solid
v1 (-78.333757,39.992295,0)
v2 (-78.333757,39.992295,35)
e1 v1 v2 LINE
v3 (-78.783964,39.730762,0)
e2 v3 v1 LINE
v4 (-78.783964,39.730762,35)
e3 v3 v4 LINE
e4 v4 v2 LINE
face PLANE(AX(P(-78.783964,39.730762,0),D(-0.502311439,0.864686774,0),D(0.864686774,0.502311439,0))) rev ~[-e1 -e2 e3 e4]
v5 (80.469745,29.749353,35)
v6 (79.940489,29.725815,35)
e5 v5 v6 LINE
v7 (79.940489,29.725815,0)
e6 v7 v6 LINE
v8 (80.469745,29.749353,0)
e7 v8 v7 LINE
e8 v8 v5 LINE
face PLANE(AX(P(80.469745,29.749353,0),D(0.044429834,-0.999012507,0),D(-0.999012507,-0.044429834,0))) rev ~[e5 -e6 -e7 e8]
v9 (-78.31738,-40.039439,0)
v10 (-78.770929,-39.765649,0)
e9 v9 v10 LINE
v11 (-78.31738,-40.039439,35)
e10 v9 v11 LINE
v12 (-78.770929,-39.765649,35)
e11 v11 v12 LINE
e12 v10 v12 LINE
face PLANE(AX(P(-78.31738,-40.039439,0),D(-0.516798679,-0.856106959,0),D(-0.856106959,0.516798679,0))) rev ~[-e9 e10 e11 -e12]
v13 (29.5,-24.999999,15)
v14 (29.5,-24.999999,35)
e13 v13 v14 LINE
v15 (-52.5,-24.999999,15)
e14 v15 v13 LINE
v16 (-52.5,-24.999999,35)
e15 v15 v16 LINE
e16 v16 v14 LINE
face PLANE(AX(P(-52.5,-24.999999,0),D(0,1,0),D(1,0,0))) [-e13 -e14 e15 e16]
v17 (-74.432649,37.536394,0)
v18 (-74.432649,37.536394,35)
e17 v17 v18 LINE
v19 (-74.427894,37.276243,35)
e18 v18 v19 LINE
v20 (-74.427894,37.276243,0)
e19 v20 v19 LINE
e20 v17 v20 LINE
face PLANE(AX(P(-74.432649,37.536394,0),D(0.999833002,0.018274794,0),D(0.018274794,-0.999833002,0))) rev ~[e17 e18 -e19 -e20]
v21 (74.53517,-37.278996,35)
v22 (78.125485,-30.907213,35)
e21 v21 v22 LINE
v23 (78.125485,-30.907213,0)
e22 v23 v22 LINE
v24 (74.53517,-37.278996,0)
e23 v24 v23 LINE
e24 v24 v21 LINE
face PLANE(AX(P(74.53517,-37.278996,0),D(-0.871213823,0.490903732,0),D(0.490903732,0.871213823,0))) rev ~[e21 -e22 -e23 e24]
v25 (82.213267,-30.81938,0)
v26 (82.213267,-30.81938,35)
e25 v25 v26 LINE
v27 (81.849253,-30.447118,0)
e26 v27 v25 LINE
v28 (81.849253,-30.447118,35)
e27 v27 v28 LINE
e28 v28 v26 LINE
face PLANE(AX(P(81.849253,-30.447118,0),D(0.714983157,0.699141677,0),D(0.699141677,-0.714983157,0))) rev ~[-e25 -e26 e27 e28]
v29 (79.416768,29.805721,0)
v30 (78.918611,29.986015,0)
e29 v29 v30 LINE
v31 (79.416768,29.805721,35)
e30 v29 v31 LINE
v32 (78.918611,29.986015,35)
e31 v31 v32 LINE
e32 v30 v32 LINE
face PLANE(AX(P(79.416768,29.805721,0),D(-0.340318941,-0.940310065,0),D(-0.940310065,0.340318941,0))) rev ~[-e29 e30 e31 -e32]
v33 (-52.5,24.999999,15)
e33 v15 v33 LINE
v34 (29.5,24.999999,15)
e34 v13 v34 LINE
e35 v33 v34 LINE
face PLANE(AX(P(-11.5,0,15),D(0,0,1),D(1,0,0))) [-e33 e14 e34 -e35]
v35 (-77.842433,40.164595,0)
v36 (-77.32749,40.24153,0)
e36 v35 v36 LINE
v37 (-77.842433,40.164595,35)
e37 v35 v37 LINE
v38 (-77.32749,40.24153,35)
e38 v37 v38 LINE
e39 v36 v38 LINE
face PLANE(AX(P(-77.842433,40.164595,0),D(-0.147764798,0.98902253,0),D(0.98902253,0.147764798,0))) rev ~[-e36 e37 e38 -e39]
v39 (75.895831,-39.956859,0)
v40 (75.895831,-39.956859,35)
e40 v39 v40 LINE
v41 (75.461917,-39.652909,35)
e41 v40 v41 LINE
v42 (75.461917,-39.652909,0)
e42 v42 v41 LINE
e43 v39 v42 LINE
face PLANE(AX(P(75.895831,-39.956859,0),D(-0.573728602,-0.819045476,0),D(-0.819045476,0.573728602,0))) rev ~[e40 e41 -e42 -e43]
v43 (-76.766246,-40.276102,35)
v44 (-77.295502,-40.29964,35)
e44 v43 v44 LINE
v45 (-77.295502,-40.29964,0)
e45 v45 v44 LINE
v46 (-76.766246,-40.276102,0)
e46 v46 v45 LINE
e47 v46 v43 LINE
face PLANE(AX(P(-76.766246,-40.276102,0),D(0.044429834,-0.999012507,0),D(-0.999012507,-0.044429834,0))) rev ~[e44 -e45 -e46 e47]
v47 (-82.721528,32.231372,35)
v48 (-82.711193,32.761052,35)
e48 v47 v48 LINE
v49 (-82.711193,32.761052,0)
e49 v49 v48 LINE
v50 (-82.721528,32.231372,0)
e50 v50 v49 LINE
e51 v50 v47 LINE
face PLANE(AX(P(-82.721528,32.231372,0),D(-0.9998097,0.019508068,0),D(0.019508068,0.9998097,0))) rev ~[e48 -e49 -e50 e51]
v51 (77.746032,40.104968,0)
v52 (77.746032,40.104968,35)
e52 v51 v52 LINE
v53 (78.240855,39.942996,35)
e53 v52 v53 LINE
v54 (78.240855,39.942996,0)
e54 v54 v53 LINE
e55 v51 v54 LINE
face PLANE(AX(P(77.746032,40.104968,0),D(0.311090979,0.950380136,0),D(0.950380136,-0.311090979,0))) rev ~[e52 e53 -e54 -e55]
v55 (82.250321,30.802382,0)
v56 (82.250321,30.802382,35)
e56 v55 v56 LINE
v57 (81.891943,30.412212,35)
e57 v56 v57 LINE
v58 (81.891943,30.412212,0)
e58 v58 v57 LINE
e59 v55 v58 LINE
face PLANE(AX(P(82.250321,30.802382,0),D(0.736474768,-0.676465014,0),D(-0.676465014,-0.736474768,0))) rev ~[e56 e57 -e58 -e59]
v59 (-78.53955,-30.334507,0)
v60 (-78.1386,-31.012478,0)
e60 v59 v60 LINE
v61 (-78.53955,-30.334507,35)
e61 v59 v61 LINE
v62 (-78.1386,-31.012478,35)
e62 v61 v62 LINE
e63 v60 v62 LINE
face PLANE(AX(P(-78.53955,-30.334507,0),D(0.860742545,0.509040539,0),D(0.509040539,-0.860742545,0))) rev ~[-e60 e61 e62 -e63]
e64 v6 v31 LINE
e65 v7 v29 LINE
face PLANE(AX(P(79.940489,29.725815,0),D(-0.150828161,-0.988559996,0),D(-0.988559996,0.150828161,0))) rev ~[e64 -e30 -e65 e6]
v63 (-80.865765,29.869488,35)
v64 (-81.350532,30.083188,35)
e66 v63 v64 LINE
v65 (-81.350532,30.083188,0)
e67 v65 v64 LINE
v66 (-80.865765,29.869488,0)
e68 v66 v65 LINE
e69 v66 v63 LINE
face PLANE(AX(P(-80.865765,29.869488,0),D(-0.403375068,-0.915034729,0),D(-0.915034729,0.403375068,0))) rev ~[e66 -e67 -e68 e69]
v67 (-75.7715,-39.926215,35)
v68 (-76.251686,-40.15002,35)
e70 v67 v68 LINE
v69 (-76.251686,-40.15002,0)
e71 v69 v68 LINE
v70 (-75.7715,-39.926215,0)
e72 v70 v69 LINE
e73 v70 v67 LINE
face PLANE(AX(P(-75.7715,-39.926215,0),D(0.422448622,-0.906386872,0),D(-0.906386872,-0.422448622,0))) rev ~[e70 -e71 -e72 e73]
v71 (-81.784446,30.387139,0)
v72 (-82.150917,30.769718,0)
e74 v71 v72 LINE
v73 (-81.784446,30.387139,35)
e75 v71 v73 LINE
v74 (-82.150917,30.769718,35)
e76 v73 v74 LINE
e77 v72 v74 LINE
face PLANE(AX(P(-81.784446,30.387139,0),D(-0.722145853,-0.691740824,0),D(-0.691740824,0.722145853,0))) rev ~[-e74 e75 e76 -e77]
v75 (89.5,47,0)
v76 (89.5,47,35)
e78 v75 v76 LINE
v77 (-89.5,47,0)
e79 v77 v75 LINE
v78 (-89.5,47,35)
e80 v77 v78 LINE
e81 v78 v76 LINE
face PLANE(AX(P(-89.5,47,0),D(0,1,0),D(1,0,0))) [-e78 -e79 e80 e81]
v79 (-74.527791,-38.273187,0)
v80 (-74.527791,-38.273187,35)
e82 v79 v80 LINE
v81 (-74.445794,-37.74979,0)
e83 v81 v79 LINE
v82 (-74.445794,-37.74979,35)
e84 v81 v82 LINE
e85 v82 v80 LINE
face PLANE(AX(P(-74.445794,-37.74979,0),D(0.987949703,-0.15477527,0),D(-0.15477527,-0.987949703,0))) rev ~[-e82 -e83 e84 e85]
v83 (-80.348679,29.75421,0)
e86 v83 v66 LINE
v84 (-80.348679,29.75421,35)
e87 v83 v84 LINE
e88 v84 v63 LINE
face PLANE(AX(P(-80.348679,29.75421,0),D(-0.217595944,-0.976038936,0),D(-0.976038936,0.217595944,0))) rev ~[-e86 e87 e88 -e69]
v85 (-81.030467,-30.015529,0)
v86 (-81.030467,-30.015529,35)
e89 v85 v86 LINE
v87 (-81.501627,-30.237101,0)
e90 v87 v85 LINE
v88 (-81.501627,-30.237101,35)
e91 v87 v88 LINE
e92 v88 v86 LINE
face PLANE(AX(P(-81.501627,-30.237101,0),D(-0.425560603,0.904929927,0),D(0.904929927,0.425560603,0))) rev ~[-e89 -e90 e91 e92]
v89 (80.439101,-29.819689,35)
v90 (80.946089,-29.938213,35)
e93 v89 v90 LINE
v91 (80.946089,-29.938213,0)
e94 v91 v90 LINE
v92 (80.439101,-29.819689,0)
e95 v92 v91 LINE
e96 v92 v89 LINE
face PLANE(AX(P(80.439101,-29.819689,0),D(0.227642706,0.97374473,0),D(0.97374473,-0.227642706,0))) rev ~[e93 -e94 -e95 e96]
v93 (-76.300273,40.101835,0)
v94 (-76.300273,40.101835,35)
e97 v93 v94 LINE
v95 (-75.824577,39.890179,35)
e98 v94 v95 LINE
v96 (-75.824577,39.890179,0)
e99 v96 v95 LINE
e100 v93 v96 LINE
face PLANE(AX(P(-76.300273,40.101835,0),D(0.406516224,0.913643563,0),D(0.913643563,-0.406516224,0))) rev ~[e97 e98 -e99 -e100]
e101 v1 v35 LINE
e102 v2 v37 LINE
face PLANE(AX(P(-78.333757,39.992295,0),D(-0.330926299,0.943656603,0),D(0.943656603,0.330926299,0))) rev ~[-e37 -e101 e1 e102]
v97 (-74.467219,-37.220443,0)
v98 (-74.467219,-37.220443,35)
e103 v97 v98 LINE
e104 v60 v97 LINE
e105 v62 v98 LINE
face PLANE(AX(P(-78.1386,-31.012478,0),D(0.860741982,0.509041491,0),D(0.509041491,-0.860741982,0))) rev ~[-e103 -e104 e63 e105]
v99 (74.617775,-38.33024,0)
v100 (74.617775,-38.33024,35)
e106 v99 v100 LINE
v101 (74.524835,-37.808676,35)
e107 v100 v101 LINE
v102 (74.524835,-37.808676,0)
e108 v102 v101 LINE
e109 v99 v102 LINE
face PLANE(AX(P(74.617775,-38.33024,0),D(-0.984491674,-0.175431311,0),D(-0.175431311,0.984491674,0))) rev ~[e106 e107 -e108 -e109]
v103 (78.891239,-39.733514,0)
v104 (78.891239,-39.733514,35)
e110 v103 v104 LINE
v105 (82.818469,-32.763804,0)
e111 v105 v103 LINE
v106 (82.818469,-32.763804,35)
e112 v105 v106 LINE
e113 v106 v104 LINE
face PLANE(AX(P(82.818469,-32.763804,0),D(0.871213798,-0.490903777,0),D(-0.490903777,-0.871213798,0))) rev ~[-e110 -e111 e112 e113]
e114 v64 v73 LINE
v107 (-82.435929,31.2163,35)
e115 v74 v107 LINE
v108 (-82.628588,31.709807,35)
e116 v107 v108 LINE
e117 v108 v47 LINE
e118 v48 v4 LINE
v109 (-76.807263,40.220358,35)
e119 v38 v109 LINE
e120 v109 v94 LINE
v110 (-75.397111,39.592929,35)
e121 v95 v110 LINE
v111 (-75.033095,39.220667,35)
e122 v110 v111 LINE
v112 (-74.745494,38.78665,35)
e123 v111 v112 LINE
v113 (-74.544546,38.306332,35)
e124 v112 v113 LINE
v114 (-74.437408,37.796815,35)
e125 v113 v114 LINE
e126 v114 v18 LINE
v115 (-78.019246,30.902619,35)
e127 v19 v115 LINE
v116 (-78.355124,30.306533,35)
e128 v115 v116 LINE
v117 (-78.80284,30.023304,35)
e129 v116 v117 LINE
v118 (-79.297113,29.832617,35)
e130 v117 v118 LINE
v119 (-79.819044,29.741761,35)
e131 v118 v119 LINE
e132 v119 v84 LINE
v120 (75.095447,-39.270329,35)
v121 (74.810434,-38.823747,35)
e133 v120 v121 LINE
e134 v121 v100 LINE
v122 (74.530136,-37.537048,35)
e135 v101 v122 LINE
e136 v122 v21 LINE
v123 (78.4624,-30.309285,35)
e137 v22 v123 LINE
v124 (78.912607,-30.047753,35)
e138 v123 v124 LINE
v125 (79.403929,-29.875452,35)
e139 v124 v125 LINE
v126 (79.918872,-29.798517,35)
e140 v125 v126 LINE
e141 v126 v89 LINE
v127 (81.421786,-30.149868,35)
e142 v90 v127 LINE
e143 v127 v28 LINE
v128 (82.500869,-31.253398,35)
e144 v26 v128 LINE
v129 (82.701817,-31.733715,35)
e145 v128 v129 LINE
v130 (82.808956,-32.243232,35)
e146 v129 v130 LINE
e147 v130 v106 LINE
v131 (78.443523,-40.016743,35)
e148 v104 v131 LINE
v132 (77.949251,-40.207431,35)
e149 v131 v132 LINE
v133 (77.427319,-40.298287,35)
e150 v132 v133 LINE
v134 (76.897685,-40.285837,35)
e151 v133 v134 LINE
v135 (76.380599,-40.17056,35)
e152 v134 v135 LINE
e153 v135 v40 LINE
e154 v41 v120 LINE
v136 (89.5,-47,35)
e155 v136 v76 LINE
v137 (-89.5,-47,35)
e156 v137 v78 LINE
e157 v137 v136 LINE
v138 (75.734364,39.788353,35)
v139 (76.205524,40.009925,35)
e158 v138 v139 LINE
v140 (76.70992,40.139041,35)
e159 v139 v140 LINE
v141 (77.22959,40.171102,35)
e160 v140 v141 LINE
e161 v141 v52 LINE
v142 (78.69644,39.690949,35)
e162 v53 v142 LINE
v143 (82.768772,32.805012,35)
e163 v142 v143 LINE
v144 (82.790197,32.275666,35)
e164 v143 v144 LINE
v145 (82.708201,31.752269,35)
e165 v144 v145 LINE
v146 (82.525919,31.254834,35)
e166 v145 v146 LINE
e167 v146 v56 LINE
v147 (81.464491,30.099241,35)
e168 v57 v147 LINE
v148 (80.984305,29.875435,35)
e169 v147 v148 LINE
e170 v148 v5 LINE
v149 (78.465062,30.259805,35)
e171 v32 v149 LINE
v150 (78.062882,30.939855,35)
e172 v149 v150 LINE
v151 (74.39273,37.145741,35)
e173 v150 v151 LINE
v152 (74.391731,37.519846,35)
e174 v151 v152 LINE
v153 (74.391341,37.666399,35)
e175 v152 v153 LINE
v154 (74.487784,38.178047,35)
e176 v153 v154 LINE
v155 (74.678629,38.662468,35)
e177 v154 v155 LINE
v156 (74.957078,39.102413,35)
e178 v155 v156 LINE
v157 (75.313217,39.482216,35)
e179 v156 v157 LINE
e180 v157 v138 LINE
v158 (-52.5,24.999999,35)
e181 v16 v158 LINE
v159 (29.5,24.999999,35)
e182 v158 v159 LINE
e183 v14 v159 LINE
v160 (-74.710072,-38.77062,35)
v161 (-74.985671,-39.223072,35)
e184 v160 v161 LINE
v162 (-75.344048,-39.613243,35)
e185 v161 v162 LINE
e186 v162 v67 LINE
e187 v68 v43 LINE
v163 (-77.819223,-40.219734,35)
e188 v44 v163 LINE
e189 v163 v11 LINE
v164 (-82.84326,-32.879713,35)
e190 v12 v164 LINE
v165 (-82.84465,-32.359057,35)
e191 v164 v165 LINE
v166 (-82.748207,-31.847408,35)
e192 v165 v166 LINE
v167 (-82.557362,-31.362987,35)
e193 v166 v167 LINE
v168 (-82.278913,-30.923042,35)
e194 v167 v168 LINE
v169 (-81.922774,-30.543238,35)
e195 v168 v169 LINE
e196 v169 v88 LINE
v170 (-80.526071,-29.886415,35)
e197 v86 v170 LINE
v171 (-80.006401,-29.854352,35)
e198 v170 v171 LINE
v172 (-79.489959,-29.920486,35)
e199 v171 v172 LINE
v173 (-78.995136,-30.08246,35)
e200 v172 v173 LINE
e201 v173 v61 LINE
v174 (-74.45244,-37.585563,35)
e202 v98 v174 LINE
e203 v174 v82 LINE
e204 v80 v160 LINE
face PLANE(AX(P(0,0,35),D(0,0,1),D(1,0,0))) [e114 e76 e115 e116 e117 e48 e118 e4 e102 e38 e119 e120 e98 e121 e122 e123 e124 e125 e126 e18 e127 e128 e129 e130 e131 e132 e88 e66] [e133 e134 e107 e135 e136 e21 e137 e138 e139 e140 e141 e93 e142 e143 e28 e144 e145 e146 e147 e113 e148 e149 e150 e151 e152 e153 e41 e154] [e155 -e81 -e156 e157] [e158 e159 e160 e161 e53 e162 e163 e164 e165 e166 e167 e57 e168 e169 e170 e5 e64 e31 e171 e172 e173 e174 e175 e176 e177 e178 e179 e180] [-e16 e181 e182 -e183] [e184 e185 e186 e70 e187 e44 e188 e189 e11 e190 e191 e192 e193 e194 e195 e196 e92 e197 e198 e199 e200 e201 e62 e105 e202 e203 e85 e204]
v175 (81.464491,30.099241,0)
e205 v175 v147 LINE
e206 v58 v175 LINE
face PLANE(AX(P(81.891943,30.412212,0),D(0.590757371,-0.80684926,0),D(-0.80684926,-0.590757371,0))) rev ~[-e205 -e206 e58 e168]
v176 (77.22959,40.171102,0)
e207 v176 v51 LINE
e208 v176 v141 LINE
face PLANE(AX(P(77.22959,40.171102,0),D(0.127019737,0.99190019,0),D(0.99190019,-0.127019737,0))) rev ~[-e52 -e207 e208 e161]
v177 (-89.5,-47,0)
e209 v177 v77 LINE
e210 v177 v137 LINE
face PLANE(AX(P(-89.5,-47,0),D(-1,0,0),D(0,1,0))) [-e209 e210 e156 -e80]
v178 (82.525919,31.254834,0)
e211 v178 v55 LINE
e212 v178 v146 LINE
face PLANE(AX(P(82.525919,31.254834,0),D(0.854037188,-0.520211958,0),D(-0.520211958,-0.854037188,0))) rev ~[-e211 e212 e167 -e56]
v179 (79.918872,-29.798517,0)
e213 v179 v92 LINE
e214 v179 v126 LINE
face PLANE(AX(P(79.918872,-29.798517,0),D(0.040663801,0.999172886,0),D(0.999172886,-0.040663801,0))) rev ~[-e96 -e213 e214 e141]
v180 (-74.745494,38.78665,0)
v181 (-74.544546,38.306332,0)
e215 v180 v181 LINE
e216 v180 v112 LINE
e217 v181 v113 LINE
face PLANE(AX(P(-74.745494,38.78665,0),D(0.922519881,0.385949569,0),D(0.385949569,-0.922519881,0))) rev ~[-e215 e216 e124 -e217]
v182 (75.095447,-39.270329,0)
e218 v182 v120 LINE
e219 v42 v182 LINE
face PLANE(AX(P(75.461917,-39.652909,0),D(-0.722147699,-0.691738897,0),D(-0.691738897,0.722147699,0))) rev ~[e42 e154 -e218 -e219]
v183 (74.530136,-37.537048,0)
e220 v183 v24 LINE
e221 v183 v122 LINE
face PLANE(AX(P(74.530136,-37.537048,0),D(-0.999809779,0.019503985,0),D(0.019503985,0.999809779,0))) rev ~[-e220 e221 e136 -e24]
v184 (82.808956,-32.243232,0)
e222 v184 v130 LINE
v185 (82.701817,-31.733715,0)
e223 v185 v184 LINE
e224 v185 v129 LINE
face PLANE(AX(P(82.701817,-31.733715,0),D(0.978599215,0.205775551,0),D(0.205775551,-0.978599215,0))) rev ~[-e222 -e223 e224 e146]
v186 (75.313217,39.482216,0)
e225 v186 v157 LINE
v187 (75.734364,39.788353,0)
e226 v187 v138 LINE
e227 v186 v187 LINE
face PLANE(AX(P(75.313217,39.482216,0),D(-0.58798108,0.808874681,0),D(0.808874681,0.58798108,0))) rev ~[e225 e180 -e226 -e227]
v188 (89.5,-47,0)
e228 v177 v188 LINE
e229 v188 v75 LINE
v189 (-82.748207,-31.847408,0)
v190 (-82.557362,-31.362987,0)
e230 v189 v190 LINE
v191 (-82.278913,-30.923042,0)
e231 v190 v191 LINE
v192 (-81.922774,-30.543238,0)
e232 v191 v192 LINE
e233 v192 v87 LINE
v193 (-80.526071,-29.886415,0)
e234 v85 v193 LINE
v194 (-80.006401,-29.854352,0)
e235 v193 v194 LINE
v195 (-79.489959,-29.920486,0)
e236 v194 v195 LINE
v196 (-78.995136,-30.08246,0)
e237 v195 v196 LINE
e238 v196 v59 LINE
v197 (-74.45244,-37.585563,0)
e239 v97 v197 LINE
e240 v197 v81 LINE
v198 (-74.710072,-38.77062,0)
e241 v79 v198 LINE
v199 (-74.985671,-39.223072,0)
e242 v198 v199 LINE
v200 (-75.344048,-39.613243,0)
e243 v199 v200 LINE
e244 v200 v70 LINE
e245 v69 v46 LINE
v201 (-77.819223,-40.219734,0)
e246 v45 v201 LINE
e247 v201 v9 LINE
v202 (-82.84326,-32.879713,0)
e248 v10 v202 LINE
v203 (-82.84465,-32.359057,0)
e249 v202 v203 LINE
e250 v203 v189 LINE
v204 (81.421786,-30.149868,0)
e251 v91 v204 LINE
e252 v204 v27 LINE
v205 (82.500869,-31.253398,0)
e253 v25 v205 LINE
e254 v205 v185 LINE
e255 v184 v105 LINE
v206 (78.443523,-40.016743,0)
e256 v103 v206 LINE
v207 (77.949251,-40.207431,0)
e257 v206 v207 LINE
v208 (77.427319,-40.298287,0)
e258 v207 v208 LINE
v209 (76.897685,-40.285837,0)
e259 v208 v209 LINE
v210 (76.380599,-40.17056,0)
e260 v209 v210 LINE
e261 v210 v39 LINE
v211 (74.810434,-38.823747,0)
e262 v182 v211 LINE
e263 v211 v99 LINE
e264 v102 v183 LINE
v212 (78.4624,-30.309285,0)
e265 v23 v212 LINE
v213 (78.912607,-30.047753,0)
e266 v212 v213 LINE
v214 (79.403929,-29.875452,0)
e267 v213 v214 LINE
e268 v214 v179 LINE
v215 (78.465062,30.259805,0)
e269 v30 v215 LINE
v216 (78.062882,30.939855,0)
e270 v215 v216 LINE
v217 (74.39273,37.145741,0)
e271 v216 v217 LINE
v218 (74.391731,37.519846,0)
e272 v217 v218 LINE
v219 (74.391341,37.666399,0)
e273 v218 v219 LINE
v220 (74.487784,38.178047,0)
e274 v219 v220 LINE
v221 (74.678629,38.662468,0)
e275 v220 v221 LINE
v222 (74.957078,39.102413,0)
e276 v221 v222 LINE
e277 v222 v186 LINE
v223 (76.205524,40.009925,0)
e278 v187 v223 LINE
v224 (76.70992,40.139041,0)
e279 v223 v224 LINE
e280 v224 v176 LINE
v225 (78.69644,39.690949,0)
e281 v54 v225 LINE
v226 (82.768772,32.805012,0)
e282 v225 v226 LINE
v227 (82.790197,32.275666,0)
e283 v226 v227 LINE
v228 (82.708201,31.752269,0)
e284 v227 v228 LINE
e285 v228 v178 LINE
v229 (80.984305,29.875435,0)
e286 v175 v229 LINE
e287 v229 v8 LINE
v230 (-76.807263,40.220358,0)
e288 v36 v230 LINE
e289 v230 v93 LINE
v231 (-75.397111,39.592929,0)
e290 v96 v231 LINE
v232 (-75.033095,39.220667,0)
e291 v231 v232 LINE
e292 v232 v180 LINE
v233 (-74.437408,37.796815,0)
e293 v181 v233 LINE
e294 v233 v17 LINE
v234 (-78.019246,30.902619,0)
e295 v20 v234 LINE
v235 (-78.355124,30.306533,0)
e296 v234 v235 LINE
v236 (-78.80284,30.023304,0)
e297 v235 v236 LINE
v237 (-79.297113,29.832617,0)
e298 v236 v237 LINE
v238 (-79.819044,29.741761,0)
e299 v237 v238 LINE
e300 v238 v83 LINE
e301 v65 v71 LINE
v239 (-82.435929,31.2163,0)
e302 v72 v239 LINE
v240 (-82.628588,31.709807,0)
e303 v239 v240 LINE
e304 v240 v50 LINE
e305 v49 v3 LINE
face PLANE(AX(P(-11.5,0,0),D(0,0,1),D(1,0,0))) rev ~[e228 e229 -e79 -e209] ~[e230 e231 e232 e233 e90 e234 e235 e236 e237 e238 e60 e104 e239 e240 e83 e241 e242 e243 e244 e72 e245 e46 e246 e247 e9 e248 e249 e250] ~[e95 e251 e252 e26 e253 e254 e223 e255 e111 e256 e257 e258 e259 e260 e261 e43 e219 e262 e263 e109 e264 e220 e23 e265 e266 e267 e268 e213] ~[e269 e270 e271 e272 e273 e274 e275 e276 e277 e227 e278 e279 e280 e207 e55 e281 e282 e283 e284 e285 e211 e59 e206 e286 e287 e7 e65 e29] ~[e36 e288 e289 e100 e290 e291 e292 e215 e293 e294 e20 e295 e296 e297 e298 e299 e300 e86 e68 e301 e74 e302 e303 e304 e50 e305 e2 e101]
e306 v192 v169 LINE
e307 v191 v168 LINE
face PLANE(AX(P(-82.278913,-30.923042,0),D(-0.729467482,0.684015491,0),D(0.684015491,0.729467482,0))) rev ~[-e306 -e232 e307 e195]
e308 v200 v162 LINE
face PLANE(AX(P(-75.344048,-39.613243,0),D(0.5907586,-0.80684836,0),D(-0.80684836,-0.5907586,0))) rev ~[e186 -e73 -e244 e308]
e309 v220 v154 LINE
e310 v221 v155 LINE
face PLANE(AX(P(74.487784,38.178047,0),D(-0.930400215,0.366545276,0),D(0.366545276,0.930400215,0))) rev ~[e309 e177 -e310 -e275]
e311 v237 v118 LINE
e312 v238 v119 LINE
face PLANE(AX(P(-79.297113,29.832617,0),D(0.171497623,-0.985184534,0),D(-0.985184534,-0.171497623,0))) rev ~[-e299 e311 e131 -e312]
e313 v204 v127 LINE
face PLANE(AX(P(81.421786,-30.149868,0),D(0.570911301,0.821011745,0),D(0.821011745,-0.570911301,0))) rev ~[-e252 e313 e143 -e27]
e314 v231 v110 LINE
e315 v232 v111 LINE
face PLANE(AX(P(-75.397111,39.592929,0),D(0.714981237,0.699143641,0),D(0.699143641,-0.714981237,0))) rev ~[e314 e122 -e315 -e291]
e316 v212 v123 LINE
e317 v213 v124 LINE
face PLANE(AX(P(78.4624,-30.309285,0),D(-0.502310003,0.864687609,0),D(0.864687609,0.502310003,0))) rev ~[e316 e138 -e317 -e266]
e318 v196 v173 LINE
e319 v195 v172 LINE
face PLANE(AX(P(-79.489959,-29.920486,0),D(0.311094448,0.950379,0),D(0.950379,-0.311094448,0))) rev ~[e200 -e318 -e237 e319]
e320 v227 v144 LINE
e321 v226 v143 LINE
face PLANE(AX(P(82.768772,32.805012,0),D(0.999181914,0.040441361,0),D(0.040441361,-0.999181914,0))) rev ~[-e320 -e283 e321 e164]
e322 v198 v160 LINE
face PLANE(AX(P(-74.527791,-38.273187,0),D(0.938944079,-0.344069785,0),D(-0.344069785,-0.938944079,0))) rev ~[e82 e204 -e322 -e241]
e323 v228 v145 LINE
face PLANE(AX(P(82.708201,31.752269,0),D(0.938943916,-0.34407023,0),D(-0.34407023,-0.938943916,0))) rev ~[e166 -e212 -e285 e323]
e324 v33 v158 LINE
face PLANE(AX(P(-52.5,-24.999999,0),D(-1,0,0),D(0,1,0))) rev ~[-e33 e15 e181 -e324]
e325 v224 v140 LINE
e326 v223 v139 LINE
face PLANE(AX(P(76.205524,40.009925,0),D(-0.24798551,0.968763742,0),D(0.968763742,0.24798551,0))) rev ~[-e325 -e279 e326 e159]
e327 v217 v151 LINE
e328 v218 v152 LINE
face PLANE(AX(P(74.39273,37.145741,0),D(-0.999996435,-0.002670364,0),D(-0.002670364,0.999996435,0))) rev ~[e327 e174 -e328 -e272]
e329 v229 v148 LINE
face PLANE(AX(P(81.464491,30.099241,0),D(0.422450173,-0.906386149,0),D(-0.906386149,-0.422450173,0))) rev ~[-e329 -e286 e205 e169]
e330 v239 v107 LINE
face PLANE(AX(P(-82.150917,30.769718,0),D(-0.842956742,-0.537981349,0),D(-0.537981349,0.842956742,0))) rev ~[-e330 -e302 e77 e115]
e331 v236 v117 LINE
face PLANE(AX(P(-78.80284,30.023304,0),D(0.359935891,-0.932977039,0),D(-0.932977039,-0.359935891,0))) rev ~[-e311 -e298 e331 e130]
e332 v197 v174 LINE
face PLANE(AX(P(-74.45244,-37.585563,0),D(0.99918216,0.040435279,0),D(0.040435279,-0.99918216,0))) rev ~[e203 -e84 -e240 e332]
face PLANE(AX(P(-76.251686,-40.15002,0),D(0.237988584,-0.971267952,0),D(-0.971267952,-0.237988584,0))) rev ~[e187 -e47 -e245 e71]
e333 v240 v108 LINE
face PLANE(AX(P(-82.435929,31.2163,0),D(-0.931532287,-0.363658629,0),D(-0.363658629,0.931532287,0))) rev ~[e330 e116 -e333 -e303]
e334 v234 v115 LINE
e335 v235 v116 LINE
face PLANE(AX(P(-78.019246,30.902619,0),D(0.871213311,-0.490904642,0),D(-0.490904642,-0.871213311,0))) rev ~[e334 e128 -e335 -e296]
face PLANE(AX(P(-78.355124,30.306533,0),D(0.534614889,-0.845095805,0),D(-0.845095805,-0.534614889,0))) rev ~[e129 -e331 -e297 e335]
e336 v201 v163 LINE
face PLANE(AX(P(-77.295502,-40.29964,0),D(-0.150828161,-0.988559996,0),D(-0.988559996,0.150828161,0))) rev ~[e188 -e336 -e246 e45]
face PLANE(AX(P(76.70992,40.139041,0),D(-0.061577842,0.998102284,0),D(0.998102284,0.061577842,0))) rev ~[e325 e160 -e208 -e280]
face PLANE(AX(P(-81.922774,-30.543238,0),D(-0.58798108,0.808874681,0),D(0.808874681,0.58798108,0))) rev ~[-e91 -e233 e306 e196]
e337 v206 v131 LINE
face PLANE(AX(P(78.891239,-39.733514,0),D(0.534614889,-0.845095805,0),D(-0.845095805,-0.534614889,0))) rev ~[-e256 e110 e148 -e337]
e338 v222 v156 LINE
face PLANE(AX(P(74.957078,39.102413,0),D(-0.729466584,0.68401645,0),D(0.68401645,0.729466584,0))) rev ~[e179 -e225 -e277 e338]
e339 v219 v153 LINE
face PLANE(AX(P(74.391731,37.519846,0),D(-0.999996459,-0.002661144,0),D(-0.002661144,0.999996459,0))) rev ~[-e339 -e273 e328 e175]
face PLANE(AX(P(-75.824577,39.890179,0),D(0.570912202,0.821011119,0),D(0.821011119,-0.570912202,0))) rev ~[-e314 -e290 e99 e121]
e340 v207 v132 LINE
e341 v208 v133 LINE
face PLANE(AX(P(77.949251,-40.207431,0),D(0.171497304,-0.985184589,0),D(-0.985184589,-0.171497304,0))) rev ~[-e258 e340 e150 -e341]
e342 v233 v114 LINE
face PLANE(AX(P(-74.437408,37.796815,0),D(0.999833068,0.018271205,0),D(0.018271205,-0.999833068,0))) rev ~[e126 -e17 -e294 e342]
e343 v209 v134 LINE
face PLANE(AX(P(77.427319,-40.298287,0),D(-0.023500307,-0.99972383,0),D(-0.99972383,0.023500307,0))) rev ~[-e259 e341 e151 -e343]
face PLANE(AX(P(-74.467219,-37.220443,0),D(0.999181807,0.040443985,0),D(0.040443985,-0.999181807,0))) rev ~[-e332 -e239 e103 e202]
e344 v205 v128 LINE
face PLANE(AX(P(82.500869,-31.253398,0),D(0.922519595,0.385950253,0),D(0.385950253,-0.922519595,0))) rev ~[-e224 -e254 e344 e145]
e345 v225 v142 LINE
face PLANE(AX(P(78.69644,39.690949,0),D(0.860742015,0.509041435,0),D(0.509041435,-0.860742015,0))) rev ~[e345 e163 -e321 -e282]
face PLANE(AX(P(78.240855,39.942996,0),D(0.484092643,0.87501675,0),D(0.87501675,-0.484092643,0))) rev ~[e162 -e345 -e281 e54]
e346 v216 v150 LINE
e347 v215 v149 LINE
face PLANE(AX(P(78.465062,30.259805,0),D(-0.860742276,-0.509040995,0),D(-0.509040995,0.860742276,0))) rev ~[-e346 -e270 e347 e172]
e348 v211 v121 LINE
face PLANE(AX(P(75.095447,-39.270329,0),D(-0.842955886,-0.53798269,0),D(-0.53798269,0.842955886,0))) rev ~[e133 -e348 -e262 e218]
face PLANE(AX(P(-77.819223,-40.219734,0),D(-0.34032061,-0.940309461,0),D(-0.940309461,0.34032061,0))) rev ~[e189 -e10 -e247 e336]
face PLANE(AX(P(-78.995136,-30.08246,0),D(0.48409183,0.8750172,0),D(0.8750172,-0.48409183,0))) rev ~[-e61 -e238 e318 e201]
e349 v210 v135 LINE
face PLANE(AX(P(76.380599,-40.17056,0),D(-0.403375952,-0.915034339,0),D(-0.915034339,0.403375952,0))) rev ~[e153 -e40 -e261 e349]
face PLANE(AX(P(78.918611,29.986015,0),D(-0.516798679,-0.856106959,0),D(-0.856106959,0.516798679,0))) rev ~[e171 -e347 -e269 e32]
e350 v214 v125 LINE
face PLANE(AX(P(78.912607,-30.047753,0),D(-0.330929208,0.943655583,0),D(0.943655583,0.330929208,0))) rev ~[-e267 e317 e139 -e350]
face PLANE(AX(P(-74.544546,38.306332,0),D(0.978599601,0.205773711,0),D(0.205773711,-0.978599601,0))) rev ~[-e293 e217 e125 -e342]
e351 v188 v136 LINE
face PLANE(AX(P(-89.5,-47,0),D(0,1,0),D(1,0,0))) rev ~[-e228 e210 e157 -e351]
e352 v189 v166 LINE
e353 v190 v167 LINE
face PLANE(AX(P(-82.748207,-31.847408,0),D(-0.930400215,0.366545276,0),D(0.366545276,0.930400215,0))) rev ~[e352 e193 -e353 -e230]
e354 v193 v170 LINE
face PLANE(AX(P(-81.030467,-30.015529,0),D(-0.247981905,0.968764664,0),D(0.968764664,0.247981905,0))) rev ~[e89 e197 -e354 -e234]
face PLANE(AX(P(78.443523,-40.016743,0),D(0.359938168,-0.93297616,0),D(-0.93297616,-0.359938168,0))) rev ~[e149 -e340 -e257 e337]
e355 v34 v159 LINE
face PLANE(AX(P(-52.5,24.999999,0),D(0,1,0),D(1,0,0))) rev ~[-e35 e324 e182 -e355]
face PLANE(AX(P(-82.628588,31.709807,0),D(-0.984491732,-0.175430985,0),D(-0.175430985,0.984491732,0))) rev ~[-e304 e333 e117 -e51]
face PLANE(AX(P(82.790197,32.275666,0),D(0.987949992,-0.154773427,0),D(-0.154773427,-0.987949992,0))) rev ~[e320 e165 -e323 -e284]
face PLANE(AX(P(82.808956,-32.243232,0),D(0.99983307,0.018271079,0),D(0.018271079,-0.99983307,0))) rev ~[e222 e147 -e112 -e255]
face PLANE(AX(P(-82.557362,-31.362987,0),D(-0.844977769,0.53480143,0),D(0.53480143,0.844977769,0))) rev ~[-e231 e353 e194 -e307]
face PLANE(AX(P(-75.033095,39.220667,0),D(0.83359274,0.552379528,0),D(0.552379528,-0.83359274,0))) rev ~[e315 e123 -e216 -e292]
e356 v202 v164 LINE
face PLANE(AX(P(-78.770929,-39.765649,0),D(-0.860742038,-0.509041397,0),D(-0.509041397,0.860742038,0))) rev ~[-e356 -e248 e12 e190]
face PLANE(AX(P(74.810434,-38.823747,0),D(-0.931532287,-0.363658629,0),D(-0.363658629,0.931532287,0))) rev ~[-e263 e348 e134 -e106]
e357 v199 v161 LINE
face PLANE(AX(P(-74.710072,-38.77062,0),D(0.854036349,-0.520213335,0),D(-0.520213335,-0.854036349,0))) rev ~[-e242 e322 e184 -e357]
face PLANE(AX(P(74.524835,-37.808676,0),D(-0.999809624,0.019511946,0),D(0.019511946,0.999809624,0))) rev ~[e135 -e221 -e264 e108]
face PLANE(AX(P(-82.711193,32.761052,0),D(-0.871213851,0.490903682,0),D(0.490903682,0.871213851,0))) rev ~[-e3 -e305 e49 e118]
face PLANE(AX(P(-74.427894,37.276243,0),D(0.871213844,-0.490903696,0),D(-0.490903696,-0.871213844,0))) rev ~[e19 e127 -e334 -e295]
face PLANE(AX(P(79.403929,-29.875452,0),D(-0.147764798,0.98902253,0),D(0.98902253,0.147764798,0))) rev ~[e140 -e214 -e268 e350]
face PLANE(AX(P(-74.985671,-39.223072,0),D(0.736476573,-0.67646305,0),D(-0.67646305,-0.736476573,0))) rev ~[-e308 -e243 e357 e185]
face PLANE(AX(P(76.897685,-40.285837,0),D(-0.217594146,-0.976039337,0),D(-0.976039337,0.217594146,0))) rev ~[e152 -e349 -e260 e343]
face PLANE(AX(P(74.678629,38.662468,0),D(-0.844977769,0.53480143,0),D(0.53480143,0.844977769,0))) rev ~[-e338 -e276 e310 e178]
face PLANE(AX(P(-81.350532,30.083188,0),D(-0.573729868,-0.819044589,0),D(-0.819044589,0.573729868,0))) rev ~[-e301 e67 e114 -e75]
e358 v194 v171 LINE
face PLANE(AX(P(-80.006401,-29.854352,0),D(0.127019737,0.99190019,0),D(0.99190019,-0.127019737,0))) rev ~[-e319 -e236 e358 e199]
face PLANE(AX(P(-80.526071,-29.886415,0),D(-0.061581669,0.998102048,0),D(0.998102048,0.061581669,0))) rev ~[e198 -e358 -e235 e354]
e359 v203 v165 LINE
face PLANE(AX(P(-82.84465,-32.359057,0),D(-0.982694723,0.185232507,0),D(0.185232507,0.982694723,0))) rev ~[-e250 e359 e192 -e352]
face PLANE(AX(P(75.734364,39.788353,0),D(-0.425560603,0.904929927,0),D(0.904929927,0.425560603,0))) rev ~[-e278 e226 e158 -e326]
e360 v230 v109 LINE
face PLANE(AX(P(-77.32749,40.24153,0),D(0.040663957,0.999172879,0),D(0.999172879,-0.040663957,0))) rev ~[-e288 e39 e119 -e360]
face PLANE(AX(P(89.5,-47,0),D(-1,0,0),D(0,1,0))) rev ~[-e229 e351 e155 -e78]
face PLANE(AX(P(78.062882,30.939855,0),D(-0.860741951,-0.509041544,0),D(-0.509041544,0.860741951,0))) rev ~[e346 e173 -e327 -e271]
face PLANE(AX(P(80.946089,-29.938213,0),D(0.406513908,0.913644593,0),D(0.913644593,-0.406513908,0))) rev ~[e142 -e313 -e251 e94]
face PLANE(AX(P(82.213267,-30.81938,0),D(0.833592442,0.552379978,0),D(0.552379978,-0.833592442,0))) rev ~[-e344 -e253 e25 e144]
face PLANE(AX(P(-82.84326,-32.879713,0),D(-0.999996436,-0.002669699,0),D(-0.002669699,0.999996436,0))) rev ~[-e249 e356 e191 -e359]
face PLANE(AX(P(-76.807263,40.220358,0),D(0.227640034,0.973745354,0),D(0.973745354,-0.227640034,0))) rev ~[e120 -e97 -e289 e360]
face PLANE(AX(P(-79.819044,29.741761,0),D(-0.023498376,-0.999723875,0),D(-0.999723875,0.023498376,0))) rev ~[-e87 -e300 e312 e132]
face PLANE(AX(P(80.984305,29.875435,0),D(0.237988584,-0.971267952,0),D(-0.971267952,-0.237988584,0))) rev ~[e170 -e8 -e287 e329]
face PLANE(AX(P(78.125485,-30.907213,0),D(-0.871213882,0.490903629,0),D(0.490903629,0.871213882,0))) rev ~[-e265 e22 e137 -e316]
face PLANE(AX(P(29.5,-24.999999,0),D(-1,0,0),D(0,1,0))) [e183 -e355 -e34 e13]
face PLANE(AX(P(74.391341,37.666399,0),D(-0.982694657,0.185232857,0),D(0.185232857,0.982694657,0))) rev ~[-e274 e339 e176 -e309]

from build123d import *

# Parameters (mm, degrees)
F0_W     = 179
F0_H     = 94
F0_W_2   = 82
F0_H_2   = 49.999998
F1_DEPTH = 35
F2_DEPTH = 15


with BuildPart() as f1:
    # F0 (on Top) → F1 (new body)
    with BuildSketch(Plane.XY):
        Rectangle(F0_W, F0_H)
        Polygon((-79.489959, -29.920486), (-78.995136, -30.08246), (-78.53955, -30.334507), (-78.1386, -31.012478), (-74.467219, -37.220443), (-74.45244, -37.585563), (-74.445794, -37.74979), (-74.527791, -38.273187), (-74.710072, -38.77062), (-74.985671, -39.223072), (-75.344048, -39.613243), (-75.7715, -39.926215), (-76.251686, -40.15002), (-76.766246, -40.276102), (-77.295502, -40.29964), (-77.819223, -40.219734), (-78.31738, -40.039439), (-78.770929, -39.765649), (-82.84326, -32.879713), (-82.84465, -32.359057), (-82.748207, -31.847408), (-82.557362, -31.362987), (-82.278913, -30.923042), (-81.922774, -30.543238), (-81.501627, -30.237101), (-81.030467, -30.015529), (-80.526071, -29.886415), (-80.006401, -29.854352), align=None, mode=Mode.SUBTRACT)
        Polygon((82.808956, -32.243232), (82.818469, -32.763804), (78.891239, -39.733514), (78.443523, -40.016743), (77.949251, -40.207431), (77.427319, -40.298287), (76.897685, -40.285837), (76.380599, -40.17056), (75.895831, -39.956859), (75.461917, -39.652909), (75.095447, -39.270329), (74.810434, -38.823747), (74.617775, -38.33024), (74.524835, -37.808676), (74.530136, -37.537048), (74.53517, -37.278996), (78.125485, -30.907213), (78.4624, -30.309285), (78.912607, -30.047753), (79.403929, -29.875452), (79.918872, -29.798517), (80.439101, -29.819689), (80.946089, -29.938213), (81.421786, -30.149868), (81.849253, -30.447118), (82.213267, -30.81938), (82.500869, -31.253398), (82.701817, -31.733715), align=None, mode=Mode.SUBTRACT)
        with Locations((-11.5, 0)):
            Rectangle(F0_W_2, F0_H_2, mode=Mode.SUBTRACT)
        Polygon((-74.745494, 38.78665), (-74.544546, 38.306332), (-74.437408, 37.796815), (-74.432649, 37.536394), (-74.427894, 37.276243), (-78.019246, 30.902619), (-78.355124, 30.306533), (-78.80284, 30.023304), (-79.297113, 29.832617), (-79.819044, 29.741761), (-80.348679, 29.75421), (-80.865765, 29.869488), (-81.350532, 30.083188), (-81.784446, 30.387139), (-82.150917, 30.769718), (-82.435929, 31.2163), (-82.628588, 31.709807), (-82.721528, 32.231372), (-82.711193, 32.761052), (-78.783964, 39.730762), (-78.333757, 39.992295), (-77.842433, 40.164595), (-77.32749, 40.24153), (-76.807263, 40.220358), (-76.300273, 40.101835), (-75.824577, 39.890179), (-75.397111, 39.592929), (-75.033095, 39.220667), align=None, mode=Mode.SUBTRACT)
        Polygon((78.240855, 39.942996), (78.69644, 39.690949), (82.768772, 32.805012), (82.790197, 32.275666), (82.708201, 31.752269), (82.525919, 31.254834), (82.250321, 30.802382), (81.891943, 30.412212), (81.464491, 30.099241), (80.984305, 29.875435), (80.469745, 29.749353), (79.940489, 29.725815), (79.416768, 29.805721), (78.918611, 29.986015), (78.465062, 30.259805), (78.062882, 30.939855), (74.39273, 37.145741), (74.391731, 37.519846), (74.391341, 37.666399), (74.487784, 38.178047), (74.678629, 38.662468), (74.957078, 39.102413), (75.313217, 39.482216), (75.734364, 39.788353), (76.205524, 40.009925), (76.70992, 40.139041), (77.22959, 40.171102), (77.746032, 40.104968), align=None, mode=Mode.SUBTRACT)
    extrude(amount=F1_DEPTH)

    # F0 (on Top) → F2 (join)
    with BuildSketch(Plane.XY):
        with Locations((-11.5, 0)):
            Rectangle(F0_W_2, F0_H_2)
    extrude(amount=F2_DEPTH)


solid = f1.part
